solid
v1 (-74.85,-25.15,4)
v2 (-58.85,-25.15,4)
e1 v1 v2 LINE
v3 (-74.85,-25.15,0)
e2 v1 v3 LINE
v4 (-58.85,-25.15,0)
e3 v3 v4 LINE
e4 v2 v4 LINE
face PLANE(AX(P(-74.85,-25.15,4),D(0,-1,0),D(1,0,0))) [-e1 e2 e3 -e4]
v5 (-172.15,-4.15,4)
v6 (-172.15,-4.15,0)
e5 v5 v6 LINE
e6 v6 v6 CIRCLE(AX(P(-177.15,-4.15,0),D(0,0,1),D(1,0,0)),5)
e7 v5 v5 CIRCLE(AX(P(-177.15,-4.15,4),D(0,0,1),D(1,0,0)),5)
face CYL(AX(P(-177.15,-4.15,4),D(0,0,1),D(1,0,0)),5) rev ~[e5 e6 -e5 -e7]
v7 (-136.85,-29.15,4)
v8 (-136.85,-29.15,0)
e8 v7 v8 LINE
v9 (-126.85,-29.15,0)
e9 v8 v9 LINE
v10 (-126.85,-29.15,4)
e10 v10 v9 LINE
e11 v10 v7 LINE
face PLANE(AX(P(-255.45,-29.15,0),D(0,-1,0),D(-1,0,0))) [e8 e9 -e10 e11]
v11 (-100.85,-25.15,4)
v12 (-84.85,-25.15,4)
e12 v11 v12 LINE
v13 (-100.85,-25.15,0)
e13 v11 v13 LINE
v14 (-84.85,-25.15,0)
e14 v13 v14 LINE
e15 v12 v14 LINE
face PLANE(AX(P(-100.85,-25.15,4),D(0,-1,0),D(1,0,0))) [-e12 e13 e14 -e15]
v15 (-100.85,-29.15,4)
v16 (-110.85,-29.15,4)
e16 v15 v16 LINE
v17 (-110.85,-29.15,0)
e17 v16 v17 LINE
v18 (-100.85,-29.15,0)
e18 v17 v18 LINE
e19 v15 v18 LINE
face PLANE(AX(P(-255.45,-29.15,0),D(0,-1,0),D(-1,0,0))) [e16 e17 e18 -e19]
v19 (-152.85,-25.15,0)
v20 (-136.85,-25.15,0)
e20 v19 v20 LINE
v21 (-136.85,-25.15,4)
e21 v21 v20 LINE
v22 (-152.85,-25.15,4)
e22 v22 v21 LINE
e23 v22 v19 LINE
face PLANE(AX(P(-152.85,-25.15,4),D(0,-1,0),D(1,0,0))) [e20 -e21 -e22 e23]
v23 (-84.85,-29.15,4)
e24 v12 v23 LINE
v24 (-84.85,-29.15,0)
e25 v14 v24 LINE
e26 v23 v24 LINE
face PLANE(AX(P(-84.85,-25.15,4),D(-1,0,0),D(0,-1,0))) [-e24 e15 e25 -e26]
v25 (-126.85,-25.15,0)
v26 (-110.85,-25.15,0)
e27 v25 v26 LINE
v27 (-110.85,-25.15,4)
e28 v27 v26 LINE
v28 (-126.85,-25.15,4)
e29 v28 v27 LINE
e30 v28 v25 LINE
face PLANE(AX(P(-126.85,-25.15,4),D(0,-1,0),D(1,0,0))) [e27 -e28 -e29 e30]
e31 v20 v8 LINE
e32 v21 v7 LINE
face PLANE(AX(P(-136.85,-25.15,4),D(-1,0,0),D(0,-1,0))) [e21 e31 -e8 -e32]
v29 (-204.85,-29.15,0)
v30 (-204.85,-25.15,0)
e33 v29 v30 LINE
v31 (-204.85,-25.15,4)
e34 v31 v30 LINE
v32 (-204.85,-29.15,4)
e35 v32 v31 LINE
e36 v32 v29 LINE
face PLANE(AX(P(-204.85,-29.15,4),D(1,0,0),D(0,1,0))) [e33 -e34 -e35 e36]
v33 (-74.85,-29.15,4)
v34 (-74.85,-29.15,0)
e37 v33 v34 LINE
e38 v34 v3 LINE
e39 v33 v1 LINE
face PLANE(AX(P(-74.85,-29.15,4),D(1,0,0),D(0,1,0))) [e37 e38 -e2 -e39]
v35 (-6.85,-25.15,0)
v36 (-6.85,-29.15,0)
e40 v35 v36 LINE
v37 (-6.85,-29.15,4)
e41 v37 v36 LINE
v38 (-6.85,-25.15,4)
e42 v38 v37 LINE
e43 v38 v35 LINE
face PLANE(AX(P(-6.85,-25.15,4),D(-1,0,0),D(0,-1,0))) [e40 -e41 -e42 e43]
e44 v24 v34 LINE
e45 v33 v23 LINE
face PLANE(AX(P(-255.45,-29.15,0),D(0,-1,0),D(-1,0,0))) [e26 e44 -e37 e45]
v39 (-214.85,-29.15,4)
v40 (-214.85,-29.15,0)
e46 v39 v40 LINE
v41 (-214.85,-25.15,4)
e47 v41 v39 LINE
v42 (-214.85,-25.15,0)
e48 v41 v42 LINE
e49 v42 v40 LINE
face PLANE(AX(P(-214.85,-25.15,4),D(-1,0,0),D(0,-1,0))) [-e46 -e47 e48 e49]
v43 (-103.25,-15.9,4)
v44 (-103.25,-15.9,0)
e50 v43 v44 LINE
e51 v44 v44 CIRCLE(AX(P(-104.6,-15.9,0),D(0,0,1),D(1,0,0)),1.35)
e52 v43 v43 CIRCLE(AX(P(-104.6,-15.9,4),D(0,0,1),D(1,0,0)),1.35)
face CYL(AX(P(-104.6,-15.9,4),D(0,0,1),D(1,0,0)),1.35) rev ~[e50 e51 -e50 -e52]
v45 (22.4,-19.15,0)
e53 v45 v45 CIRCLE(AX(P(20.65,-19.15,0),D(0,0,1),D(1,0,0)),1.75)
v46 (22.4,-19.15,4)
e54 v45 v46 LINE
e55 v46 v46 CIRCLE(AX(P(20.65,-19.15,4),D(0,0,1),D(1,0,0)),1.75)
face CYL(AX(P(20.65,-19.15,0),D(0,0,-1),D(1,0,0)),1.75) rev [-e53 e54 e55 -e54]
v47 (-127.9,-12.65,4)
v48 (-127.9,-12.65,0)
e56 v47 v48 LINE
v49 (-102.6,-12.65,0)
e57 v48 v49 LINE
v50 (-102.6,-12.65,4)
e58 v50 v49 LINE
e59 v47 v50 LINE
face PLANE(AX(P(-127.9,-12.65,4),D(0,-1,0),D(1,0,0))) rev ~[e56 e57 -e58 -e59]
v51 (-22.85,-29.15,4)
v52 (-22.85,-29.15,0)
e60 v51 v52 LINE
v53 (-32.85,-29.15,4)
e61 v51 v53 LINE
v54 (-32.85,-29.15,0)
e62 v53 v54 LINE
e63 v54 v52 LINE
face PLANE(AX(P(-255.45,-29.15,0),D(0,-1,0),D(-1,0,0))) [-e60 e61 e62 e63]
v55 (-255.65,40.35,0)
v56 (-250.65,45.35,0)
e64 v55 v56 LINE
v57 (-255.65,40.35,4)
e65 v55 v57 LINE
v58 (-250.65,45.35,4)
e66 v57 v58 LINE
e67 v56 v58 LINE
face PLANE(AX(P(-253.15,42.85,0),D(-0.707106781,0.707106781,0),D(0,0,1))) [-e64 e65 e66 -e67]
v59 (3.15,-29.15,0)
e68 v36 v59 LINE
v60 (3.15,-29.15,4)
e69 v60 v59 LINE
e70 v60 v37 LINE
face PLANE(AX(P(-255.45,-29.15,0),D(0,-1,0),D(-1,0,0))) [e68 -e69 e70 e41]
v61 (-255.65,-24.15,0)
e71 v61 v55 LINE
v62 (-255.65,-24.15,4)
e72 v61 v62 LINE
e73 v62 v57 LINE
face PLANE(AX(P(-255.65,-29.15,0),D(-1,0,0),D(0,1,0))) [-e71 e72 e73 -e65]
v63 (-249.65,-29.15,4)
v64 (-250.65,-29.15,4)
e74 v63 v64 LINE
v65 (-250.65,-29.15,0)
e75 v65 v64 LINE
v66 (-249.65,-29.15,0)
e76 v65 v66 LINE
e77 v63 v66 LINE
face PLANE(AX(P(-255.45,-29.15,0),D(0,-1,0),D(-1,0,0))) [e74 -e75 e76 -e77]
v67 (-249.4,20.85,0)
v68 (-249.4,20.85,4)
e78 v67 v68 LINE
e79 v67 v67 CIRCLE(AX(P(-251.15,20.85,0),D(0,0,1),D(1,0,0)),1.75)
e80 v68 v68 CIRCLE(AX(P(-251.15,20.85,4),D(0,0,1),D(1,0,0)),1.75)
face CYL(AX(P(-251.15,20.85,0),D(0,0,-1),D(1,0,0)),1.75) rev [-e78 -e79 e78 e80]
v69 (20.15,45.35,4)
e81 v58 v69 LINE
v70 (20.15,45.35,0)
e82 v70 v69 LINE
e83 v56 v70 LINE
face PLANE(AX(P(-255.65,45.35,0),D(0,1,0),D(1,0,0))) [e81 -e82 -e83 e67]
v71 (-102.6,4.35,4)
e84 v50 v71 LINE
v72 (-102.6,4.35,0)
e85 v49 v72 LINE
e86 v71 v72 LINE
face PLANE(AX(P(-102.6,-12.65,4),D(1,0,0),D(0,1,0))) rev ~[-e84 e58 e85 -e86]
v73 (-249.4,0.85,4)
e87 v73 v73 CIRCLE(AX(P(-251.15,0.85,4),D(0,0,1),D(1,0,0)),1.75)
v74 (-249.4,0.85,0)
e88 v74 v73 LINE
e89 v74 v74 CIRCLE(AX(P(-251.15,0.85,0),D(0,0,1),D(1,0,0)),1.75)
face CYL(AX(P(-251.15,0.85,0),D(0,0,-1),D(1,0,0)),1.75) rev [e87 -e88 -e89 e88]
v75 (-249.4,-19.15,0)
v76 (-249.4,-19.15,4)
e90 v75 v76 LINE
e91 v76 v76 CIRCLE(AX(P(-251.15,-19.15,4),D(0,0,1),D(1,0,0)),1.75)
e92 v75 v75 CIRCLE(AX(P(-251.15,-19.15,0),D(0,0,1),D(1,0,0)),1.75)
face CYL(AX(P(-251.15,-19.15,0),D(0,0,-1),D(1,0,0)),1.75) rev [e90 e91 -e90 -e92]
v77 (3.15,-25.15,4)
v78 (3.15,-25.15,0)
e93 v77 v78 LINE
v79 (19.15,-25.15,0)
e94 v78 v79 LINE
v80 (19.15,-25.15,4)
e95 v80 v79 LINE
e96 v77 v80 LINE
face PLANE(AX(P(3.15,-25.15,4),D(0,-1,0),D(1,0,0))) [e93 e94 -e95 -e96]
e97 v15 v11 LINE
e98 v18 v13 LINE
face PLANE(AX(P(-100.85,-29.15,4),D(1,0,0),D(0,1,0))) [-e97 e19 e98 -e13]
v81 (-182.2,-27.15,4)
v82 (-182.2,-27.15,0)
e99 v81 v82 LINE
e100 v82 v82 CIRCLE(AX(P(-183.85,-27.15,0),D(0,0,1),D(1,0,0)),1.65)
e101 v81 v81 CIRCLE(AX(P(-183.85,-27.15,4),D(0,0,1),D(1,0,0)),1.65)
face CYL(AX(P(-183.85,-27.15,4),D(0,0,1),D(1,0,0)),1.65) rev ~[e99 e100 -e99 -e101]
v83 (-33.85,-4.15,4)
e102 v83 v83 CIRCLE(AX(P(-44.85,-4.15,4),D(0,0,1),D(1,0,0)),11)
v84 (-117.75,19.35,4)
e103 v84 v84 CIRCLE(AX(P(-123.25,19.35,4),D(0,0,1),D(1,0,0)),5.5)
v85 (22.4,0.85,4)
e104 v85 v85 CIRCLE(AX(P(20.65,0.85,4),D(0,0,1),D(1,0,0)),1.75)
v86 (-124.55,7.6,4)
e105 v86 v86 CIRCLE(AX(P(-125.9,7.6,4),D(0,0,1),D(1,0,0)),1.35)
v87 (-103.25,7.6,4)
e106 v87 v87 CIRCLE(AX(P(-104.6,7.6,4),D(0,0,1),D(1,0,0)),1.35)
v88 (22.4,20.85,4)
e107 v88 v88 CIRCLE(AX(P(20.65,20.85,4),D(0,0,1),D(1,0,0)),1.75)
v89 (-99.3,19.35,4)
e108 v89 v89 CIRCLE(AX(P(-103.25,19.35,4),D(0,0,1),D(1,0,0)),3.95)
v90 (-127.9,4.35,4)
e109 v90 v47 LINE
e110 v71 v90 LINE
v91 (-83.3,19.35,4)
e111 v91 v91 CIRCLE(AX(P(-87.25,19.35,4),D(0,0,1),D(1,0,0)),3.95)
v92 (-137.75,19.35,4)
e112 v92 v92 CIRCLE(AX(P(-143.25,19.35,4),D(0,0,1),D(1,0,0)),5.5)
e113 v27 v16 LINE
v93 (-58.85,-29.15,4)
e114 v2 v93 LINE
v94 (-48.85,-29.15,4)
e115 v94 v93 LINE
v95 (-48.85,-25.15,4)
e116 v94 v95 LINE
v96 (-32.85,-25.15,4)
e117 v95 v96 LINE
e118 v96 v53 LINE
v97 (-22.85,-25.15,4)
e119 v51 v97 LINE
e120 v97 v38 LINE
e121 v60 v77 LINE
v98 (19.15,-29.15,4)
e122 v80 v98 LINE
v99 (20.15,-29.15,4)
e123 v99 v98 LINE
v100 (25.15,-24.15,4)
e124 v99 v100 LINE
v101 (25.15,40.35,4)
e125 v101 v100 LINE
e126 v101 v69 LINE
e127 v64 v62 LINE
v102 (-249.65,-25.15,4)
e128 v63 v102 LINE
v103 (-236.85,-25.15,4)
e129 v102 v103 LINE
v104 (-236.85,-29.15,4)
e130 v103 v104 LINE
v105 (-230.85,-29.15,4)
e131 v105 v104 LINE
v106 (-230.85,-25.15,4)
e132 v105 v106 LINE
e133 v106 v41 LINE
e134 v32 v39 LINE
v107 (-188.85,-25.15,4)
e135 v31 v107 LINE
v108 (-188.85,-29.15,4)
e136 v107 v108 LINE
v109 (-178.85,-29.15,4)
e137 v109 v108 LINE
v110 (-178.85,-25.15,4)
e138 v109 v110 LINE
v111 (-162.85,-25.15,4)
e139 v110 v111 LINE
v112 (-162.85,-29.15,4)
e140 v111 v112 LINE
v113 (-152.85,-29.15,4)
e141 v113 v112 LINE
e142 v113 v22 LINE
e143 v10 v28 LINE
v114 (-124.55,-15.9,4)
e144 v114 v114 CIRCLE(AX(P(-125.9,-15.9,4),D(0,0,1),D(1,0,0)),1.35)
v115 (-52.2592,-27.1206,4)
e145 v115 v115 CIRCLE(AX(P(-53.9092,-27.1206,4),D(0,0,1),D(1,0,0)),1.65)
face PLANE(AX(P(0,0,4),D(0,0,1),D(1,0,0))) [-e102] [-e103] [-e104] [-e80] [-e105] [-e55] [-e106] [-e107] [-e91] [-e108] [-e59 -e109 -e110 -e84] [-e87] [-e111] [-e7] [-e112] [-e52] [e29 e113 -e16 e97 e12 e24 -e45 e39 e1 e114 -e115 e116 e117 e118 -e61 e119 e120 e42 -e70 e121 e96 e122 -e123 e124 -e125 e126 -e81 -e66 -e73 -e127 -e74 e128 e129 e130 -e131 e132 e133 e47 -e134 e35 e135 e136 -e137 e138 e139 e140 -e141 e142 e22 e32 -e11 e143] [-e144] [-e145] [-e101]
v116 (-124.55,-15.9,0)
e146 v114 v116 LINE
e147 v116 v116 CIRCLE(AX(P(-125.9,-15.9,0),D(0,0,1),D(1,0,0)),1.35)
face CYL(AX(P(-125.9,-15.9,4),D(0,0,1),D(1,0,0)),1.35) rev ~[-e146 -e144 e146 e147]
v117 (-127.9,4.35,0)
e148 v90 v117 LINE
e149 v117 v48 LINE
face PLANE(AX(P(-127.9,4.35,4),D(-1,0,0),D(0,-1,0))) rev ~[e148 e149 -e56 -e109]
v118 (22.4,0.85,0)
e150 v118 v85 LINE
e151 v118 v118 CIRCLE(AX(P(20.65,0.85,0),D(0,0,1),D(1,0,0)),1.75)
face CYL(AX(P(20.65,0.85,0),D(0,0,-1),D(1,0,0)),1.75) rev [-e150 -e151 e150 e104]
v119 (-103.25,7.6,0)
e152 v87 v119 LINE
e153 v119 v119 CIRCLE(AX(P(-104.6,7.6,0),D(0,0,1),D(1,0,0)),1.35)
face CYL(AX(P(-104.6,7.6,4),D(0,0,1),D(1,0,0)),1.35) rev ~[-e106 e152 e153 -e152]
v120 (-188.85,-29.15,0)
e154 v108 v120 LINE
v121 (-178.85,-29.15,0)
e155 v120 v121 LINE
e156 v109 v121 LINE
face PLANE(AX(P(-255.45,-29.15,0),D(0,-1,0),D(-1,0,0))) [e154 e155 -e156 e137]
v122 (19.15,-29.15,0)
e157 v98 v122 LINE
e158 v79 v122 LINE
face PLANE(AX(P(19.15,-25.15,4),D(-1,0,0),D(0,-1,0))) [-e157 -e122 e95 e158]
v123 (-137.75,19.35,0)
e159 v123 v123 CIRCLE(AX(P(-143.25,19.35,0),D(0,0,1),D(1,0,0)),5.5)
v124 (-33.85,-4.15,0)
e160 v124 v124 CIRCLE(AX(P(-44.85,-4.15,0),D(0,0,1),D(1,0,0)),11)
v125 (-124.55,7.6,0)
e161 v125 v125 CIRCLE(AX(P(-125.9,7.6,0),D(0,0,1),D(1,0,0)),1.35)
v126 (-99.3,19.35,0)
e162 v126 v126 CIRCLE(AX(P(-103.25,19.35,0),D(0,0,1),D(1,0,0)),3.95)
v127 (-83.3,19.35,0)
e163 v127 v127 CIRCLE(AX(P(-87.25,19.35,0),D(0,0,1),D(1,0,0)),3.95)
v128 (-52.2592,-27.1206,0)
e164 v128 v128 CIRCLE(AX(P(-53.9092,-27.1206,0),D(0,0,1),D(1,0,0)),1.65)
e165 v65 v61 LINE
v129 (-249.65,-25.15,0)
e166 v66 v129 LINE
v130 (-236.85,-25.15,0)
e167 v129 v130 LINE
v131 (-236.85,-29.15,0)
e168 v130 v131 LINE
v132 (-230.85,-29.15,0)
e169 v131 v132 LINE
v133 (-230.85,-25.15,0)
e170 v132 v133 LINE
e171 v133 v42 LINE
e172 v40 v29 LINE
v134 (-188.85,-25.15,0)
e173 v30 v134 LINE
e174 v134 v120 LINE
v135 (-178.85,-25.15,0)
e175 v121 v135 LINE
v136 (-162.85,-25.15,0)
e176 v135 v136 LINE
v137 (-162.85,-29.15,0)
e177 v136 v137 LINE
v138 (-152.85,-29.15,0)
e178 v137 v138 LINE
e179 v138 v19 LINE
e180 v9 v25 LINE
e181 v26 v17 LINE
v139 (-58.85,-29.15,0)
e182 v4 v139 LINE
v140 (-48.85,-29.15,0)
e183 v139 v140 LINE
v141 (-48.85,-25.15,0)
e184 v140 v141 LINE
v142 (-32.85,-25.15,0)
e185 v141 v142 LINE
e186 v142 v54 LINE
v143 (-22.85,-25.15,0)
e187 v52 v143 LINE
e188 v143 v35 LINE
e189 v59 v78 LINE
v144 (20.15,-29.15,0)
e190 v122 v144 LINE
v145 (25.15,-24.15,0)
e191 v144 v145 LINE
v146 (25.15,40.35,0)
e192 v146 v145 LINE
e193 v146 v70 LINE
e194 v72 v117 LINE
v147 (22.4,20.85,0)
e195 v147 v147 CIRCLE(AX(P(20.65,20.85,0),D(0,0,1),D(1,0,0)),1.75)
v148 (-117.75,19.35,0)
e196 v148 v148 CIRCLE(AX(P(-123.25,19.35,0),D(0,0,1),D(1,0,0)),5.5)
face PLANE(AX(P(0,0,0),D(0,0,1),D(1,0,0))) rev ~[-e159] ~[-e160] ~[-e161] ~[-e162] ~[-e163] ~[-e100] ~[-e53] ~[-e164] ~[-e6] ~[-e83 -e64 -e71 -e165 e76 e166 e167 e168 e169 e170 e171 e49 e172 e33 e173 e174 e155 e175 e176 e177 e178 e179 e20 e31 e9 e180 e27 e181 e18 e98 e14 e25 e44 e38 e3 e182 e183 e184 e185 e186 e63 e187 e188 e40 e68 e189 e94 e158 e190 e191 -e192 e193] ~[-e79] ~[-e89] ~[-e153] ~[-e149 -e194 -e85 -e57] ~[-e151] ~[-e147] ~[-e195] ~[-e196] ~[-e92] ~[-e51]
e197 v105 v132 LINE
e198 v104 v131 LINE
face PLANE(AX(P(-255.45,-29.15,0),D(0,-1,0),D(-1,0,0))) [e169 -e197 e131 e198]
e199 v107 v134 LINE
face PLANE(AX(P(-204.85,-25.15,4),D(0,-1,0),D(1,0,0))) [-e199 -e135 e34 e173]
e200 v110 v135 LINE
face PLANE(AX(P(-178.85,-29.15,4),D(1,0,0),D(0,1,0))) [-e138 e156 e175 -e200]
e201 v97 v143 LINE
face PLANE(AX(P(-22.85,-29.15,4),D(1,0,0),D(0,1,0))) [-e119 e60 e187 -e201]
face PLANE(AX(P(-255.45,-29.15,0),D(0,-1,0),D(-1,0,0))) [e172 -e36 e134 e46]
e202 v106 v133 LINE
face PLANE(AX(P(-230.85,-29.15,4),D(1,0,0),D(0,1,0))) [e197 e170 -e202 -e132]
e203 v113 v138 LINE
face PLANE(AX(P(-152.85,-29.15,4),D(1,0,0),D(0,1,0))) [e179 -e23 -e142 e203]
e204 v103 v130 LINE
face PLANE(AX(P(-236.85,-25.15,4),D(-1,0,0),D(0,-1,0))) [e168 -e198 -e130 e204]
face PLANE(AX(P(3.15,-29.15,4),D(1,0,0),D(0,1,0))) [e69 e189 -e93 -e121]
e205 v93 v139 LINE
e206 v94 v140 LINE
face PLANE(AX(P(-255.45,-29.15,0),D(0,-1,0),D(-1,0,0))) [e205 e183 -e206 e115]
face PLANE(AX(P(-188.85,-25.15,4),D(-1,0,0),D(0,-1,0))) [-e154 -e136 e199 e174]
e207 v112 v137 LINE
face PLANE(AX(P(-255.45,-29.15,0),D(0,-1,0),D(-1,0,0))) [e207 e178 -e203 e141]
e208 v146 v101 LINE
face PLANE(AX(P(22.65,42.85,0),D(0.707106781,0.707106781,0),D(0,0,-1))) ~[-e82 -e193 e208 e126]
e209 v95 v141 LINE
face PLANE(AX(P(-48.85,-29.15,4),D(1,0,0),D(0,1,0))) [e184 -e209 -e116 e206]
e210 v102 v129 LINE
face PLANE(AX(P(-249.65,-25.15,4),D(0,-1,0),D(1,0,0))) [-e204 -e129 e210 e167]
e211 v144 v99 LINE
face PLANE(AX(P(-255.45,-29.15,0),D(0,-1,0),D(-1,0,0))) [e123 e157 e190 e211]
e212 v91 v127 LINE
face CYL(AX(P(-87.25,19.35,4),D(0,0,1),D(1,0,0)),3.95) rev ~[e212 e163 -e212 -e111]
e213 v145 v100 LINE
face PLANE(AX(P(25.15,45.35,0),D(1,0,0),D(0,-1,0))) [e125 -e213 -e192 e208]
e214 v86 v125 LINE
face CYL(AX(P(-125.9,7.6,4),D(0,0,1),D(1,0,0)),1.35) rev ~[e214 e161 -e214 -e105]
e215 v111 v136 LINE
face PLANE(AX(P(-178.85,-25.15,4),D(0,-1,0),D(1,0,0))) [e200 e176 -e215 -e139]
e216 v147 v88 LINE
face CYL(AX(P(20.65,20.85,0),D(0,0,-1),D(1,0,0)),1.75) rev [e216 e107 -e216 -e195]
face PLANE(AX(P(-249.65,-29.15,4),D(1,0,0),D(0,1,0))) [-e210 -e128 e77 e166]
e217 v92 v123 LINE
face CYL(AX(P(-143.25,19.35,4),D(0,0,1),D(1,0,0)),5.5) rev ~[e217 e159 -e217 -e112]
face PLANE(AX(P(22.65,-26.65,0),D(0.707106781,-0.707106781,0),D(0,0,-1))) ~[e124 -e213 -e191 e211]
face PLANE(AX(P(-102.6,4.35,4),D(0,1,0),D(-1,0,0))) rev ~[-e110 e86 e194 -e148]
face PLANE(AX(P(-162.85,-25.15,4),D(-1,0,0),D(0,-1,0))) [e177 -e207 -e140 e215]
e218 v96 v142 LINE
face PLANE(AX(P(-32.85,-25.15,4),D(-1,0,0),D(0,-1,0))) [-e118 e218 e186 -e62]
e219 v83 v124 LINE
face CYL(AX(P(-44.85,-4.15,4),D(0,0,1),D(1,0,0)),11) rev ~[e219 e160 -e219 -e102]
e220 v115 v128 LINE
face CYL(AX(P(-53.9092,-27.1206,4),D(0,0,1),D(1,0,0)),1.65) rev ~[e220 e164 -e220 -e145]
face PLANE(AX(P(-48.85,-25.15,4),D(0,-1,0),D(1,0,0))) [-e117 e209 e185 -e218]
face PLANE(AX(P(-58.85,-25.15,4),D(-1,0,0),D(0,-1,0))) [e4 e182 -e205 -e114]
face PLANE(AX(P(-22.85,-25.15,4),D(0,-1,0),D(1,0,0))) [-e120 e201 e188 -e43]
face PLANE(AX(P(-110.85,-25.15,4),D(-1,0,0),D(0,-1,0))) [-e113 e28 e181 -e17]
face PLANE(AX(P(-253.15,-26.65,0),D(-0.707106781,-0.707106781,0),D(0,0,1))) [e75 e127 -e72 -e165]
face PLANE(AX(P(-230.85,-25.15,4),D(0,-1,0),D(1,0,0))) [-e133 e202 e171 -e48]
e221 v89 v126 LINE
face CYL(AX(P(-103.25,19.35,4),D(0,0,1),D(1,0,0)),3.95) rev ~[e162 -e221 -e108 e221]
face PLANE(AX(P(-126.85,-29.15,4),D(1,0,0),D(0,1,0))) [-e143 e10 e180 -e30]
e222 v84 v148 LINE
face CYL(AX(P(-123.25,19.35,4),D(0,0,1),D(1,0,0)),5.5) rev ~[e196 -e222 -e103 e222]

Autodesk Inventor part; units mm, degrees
ref_plane "YZ Plane" through (0, 0, 0) normal (1, 0, 0) x (0, 1, 0)
ref_plane "XZ Plane" through (0, 0, 0) normal (0, 1, 0) x (-1, 0, 0)
ref_plane "XY Plane" through (0, 0, 0) normal (0, 0, 1) x (1, 0, 0)
sketch "Эскиз1" plane through (0, 0, 0) normal (0, 0, 1) x (1, 0, 0)
  circle A0 centre (20.65, -19.15) radius 1.75 projected
  circle A1 centre (20.65, 0.85) radius 1.75 projected
  circle A2 centre (20.65, 20.85) radius 1.75 projected
  circle A3 centre (-251.15, -19.15) radius 1.75 projected
  circle A4 centre (-251.15, 0.85) radius 1.75 projected
  circle A5 centre (-251.15, 20.85) radius 1.75 projected
  line L0 (-255.45, -29.15) -> (-246.85, -29.15) projected
  line L1 (-255.65, -29.15) -> (-255.65, 270.85) projected
  line L2 (25.15, 270.85) -> (25.15, -29.15) projected
  line L3 (25.15, -29.15) -> (-255.65, -29.15)
  line L4 (-255.65, -29.15) -> (-255.65, 45.35)
  line L5 (-255.65, 45.35) -> (25.15, 45.35)
  line L6 (25.15, 45.35) -> (25.15, -29.15)
  point P0 (25.15, 45.35)
extrude "Выдавливание1" add sketch "Эскиз1" along normal blind 4
sketch "Эскиз4" plane through (0, 0, 4) normal (0, 0, 1) x (1, 0, 0)
  circle A0 centre (-177.15, -2.65) radius 5 construction
  line L0 (-177.15, -2.65) -> (-177.15, -29.15) construction
  line L1 (-255.65, -29.15) -> (25.15, -29.15) construction
  circle A1 centre (-177.15, -4.15) radius 5
  point P0 (0, 0)
  dimension "d30" = 10
  dimension "d31" = 25
extrude "Выдавливание4" cut sketch "Эскиз4" against normal blind 10
sketch "Эскиз5" plane through (0, 0, 4) normal (0, 0, 1) x (1, 0, 0)
  line L0 (-127.9, -12.65) -> (-102.6, -12.65)
  line L1 (-102.6, -12.65) -> (-102.6, 4.35)
  line L2 (-102.6, 4.35) -> (-127.9, 4.35)
  line L3 (-127.9, 4.35) -> (-127.9, -12.65)
  line L4 (-127.9, -12.65) -> (-102.6, 4.35) construction
  line L5 (-102.6, -12.65) -> (-127.9, 4.35) construction
  circle A0 centre (-125.9, -15.9) radius 1.35
  line L6 (-115.25, -4.15) -> (-115.25, 2.5103)
  line L7 (-115.25, -4.15) -> (-117.239, -4.15)
  circle A1 centre (-104.6, -15.9) radius 1.35
  circle A2 centre (-125.9, 7.6) radius 1.35
  circle A3 centre (-104.6, 7.6) radius 1.35
  line L8 (-255.65, -29.15) -> (25.15, -29.15) projected
  line L9 (-115.25, -29.15) -> (-115.25, -2.4897) construction
  point P0 (0, 0)
  dimension "d33" = 17
  dimension "d39" = 2.7
  dimension "d40" = 3.25
  dimension "d41" = 2
  dimension "d45" = 25.3
  dimension "d46" = 25
extrude "Выдавливание5" cut sketch "Эскиз5" against normal blind 10
sketch "Эскиз6" plane through (0, 0, 4) normal (0, 0, 1) x (1, 0, 0)
  line L0 (-127.9, -12.65) -> (-127.9, 4.35) construction
  line L1 (-101.8454, -4.15) -> (-167.9603, -4.15) construction
  circle A0 centre (-44.85, -4.15) radius 11
  line L2 (-255.65, -29.15) -> (25.15, -29.15) projected
  circle A1 centre (-87.25, 19.35) radius 3.95
  line L3 (-127.9, 4.35) -> (-102.6, 4.35) projected
  line L4 (-102.6, 4.35) -> (-102.6, -12.65) projected
  line L5 (-87.25, 19.35) -> (-143.25, 19.35) construction
  line L6 (-115.25, 4.35) -> (-115.25, 38.684) construction
  circle A2 centre (-103.25, 19.35) radius 3.95
  line L7 (25.15, -29.15) -> (25.15, 45.35) projected
  circle A3 centre (-123.25, 19.35) radius 5.5
  circle A4 centre (-143.25, 19.35) radius 5.5
  point P0 (0, 0)
  point P1 (-127.9, -4.15)
  point P2 (-115.25, 19.35)
  dimension "d54" = 22
  dimension "d59" = 25
  dimension "d61" = 7.9
  dimension "d62" = 15
  dimension "d67" = 16
  dimension "d72" = 70
  dimension "d79" = 11
  dimension "d80" = 11
  dimension "d81" = 20
  dimension "d82" = 20
extrude "Выдавливание6" cut sketch "Эскиз6" against normal blind 10
chamfer "Фаска1" distance 5 angle 45 4 edges at (25.15, 45.35, 2) (-255.65, 45.35, 2) (-255.65, -29.15, 2) (25.15, -29.15, 2)
sketch "Эскиз7" plane through (0, 0, 4) normal (0, 0, 1) x (1, 0, 0)
  line L0 (-100.85, -29.15) -> (-100.85, -25.15)
  line L1 (-100.85, -25.15) -> (-84.85, -25.15)
  line L2 (-84.85, -25.15) -> (-84.85, -29.15)
  line L3 (-84.85, -29.15) -> (-100.85, -29.15)
  line L4 (-48.85, -29.15) -> (-48.85, -25.15)
  line L5 (-48.85, -25.15) -> (-32.85, -25.15)
  line L6 (-32.85, -25.15) -> (-32.85, -29.15)
  line L7 (-32.85, -29.15) -> (-48.85, -29.15)
  line L8 (19.15, -25.15) -> (19.15, -29.15)
  line L9 (19.15, -29.15) -> (3.15, -29.15)
  line L10 (3.15, -29.15) -> (3.15, -25.15)
  line L11 (3.15, -25.15) -> (19.15, -25.15)
  line L12 (-204.85, -29.15) -> (-204.85, -25.15)
  line L13 (-204.85, -25.15) -> (-188.85, -25.15)
  line L14 (-188.85, -25.15) -> (-188.85, -29.15)
  line L15 (-188.85, -29.15) -> (-204.85, -29.15)
  line L16 (-152.85, -29.15) -> (-152.85, -25.15)
  line L17 (-152.85, -25.15) -> (-136.85, -25.15)
  line L18 (-136.85, -25.15) -> (-136.85, -29.15)
  line L19 (-136.85, -29.15) -> (-152.85, -29.15)
  line L20 (-126.85, -29.15) -> (-126.85, -25.15)
  line L21 (-126.85, -25.15) -> (-110.85, -25.15)
  line L22 (-110.85, -25.15) -> (-110.85, -29.15)
  line L23 (-110.85, -29.15) -> (-126.85, -29.15)
  line L24 (-178.85, -29.15) -> (-178.85, -25.15)
  line L25 (-178.85, -25.15) -> (-162.85, -25.15)
  line L26 (-162.85, -25.15) -> (-162.85, -29.15)
  line L27 (-162.85, -29.15) -> (-178.85, -29.15)
  line L28 (-230.85, -29.15) -> (-230.85, -25.15)
  line L29 (-230.85, -25.15) -> (-214.85, -25.15)
  line L30 (-214.85, -25.15) -> (-214.85, -29.15)
  line L31 (-214.85, -29.15) -> (-230.85, -29.15)
  line L32 (-6.85, -25.15) -> (-6.85, -29.15)
  line L33 (-6.85, -29.15) -> (-22.85, -29.15)
  line L34 (-22.85, -29.15) -> (-22.85, -25.15)
  line L35 (-22.85, -25.15) -> (-6.85, -25.15)
  line L36 (-74.85, -29.15) -> (-74.85, -25.15)
  line L37 (-74.85, -25.15) -> (-58.85, -25.15)
  line L38 (-58.85, -25.15) -> (-58.85, -29.15)
  line L39 (-58.85, -29.15) -> (-74.85, -29.15)
  line L40 (-249.65, -29.15) -> (-249.65, -25.15)
  line L41 (-249.65, -25.15) -> (-236.85, -25.15)
  line L42 (-236.85, -25.15) -> (-236.85, -29.15)
  line L43 (-236.85, -29.15) -> (-249.65, -29.15)
extrude "Выдавливание7" cut sketch "Эскиз7" against normal blind 4
sketch "Эскиз8" plane through (0, 0, 4) normal (0, 0, 1) x (1, 0, 0)
  line L0 (-32.85, -25.15) -> (-48.85, -25.15) construction
  line L1 (-48.85, -25.15) -> (-58.9685, -29.0911) construction
  circle A0 centre (-53.9092, -27.1206) radius 1.65
  line L2 (-162.85, -25.15) -> (-178.85, -25.15) construction
  line L3 (-188.85, -29.15) -> (-178.85, -29.15) construction
  line L4 (-178.85, -25.15) -> (-188.85, -29.15) construction
  circle A1 centre (-183.85, -27.15) radius 1.65
  point P0 (0, 0)
  dimension "d75" = 3.3
  dimension "d76" = 3.3
extrude "Выдавливание8" cut sketch "Эскиз8" against normal blind 4
properties part number "креп_мотора" material "Древесина (береза)"
